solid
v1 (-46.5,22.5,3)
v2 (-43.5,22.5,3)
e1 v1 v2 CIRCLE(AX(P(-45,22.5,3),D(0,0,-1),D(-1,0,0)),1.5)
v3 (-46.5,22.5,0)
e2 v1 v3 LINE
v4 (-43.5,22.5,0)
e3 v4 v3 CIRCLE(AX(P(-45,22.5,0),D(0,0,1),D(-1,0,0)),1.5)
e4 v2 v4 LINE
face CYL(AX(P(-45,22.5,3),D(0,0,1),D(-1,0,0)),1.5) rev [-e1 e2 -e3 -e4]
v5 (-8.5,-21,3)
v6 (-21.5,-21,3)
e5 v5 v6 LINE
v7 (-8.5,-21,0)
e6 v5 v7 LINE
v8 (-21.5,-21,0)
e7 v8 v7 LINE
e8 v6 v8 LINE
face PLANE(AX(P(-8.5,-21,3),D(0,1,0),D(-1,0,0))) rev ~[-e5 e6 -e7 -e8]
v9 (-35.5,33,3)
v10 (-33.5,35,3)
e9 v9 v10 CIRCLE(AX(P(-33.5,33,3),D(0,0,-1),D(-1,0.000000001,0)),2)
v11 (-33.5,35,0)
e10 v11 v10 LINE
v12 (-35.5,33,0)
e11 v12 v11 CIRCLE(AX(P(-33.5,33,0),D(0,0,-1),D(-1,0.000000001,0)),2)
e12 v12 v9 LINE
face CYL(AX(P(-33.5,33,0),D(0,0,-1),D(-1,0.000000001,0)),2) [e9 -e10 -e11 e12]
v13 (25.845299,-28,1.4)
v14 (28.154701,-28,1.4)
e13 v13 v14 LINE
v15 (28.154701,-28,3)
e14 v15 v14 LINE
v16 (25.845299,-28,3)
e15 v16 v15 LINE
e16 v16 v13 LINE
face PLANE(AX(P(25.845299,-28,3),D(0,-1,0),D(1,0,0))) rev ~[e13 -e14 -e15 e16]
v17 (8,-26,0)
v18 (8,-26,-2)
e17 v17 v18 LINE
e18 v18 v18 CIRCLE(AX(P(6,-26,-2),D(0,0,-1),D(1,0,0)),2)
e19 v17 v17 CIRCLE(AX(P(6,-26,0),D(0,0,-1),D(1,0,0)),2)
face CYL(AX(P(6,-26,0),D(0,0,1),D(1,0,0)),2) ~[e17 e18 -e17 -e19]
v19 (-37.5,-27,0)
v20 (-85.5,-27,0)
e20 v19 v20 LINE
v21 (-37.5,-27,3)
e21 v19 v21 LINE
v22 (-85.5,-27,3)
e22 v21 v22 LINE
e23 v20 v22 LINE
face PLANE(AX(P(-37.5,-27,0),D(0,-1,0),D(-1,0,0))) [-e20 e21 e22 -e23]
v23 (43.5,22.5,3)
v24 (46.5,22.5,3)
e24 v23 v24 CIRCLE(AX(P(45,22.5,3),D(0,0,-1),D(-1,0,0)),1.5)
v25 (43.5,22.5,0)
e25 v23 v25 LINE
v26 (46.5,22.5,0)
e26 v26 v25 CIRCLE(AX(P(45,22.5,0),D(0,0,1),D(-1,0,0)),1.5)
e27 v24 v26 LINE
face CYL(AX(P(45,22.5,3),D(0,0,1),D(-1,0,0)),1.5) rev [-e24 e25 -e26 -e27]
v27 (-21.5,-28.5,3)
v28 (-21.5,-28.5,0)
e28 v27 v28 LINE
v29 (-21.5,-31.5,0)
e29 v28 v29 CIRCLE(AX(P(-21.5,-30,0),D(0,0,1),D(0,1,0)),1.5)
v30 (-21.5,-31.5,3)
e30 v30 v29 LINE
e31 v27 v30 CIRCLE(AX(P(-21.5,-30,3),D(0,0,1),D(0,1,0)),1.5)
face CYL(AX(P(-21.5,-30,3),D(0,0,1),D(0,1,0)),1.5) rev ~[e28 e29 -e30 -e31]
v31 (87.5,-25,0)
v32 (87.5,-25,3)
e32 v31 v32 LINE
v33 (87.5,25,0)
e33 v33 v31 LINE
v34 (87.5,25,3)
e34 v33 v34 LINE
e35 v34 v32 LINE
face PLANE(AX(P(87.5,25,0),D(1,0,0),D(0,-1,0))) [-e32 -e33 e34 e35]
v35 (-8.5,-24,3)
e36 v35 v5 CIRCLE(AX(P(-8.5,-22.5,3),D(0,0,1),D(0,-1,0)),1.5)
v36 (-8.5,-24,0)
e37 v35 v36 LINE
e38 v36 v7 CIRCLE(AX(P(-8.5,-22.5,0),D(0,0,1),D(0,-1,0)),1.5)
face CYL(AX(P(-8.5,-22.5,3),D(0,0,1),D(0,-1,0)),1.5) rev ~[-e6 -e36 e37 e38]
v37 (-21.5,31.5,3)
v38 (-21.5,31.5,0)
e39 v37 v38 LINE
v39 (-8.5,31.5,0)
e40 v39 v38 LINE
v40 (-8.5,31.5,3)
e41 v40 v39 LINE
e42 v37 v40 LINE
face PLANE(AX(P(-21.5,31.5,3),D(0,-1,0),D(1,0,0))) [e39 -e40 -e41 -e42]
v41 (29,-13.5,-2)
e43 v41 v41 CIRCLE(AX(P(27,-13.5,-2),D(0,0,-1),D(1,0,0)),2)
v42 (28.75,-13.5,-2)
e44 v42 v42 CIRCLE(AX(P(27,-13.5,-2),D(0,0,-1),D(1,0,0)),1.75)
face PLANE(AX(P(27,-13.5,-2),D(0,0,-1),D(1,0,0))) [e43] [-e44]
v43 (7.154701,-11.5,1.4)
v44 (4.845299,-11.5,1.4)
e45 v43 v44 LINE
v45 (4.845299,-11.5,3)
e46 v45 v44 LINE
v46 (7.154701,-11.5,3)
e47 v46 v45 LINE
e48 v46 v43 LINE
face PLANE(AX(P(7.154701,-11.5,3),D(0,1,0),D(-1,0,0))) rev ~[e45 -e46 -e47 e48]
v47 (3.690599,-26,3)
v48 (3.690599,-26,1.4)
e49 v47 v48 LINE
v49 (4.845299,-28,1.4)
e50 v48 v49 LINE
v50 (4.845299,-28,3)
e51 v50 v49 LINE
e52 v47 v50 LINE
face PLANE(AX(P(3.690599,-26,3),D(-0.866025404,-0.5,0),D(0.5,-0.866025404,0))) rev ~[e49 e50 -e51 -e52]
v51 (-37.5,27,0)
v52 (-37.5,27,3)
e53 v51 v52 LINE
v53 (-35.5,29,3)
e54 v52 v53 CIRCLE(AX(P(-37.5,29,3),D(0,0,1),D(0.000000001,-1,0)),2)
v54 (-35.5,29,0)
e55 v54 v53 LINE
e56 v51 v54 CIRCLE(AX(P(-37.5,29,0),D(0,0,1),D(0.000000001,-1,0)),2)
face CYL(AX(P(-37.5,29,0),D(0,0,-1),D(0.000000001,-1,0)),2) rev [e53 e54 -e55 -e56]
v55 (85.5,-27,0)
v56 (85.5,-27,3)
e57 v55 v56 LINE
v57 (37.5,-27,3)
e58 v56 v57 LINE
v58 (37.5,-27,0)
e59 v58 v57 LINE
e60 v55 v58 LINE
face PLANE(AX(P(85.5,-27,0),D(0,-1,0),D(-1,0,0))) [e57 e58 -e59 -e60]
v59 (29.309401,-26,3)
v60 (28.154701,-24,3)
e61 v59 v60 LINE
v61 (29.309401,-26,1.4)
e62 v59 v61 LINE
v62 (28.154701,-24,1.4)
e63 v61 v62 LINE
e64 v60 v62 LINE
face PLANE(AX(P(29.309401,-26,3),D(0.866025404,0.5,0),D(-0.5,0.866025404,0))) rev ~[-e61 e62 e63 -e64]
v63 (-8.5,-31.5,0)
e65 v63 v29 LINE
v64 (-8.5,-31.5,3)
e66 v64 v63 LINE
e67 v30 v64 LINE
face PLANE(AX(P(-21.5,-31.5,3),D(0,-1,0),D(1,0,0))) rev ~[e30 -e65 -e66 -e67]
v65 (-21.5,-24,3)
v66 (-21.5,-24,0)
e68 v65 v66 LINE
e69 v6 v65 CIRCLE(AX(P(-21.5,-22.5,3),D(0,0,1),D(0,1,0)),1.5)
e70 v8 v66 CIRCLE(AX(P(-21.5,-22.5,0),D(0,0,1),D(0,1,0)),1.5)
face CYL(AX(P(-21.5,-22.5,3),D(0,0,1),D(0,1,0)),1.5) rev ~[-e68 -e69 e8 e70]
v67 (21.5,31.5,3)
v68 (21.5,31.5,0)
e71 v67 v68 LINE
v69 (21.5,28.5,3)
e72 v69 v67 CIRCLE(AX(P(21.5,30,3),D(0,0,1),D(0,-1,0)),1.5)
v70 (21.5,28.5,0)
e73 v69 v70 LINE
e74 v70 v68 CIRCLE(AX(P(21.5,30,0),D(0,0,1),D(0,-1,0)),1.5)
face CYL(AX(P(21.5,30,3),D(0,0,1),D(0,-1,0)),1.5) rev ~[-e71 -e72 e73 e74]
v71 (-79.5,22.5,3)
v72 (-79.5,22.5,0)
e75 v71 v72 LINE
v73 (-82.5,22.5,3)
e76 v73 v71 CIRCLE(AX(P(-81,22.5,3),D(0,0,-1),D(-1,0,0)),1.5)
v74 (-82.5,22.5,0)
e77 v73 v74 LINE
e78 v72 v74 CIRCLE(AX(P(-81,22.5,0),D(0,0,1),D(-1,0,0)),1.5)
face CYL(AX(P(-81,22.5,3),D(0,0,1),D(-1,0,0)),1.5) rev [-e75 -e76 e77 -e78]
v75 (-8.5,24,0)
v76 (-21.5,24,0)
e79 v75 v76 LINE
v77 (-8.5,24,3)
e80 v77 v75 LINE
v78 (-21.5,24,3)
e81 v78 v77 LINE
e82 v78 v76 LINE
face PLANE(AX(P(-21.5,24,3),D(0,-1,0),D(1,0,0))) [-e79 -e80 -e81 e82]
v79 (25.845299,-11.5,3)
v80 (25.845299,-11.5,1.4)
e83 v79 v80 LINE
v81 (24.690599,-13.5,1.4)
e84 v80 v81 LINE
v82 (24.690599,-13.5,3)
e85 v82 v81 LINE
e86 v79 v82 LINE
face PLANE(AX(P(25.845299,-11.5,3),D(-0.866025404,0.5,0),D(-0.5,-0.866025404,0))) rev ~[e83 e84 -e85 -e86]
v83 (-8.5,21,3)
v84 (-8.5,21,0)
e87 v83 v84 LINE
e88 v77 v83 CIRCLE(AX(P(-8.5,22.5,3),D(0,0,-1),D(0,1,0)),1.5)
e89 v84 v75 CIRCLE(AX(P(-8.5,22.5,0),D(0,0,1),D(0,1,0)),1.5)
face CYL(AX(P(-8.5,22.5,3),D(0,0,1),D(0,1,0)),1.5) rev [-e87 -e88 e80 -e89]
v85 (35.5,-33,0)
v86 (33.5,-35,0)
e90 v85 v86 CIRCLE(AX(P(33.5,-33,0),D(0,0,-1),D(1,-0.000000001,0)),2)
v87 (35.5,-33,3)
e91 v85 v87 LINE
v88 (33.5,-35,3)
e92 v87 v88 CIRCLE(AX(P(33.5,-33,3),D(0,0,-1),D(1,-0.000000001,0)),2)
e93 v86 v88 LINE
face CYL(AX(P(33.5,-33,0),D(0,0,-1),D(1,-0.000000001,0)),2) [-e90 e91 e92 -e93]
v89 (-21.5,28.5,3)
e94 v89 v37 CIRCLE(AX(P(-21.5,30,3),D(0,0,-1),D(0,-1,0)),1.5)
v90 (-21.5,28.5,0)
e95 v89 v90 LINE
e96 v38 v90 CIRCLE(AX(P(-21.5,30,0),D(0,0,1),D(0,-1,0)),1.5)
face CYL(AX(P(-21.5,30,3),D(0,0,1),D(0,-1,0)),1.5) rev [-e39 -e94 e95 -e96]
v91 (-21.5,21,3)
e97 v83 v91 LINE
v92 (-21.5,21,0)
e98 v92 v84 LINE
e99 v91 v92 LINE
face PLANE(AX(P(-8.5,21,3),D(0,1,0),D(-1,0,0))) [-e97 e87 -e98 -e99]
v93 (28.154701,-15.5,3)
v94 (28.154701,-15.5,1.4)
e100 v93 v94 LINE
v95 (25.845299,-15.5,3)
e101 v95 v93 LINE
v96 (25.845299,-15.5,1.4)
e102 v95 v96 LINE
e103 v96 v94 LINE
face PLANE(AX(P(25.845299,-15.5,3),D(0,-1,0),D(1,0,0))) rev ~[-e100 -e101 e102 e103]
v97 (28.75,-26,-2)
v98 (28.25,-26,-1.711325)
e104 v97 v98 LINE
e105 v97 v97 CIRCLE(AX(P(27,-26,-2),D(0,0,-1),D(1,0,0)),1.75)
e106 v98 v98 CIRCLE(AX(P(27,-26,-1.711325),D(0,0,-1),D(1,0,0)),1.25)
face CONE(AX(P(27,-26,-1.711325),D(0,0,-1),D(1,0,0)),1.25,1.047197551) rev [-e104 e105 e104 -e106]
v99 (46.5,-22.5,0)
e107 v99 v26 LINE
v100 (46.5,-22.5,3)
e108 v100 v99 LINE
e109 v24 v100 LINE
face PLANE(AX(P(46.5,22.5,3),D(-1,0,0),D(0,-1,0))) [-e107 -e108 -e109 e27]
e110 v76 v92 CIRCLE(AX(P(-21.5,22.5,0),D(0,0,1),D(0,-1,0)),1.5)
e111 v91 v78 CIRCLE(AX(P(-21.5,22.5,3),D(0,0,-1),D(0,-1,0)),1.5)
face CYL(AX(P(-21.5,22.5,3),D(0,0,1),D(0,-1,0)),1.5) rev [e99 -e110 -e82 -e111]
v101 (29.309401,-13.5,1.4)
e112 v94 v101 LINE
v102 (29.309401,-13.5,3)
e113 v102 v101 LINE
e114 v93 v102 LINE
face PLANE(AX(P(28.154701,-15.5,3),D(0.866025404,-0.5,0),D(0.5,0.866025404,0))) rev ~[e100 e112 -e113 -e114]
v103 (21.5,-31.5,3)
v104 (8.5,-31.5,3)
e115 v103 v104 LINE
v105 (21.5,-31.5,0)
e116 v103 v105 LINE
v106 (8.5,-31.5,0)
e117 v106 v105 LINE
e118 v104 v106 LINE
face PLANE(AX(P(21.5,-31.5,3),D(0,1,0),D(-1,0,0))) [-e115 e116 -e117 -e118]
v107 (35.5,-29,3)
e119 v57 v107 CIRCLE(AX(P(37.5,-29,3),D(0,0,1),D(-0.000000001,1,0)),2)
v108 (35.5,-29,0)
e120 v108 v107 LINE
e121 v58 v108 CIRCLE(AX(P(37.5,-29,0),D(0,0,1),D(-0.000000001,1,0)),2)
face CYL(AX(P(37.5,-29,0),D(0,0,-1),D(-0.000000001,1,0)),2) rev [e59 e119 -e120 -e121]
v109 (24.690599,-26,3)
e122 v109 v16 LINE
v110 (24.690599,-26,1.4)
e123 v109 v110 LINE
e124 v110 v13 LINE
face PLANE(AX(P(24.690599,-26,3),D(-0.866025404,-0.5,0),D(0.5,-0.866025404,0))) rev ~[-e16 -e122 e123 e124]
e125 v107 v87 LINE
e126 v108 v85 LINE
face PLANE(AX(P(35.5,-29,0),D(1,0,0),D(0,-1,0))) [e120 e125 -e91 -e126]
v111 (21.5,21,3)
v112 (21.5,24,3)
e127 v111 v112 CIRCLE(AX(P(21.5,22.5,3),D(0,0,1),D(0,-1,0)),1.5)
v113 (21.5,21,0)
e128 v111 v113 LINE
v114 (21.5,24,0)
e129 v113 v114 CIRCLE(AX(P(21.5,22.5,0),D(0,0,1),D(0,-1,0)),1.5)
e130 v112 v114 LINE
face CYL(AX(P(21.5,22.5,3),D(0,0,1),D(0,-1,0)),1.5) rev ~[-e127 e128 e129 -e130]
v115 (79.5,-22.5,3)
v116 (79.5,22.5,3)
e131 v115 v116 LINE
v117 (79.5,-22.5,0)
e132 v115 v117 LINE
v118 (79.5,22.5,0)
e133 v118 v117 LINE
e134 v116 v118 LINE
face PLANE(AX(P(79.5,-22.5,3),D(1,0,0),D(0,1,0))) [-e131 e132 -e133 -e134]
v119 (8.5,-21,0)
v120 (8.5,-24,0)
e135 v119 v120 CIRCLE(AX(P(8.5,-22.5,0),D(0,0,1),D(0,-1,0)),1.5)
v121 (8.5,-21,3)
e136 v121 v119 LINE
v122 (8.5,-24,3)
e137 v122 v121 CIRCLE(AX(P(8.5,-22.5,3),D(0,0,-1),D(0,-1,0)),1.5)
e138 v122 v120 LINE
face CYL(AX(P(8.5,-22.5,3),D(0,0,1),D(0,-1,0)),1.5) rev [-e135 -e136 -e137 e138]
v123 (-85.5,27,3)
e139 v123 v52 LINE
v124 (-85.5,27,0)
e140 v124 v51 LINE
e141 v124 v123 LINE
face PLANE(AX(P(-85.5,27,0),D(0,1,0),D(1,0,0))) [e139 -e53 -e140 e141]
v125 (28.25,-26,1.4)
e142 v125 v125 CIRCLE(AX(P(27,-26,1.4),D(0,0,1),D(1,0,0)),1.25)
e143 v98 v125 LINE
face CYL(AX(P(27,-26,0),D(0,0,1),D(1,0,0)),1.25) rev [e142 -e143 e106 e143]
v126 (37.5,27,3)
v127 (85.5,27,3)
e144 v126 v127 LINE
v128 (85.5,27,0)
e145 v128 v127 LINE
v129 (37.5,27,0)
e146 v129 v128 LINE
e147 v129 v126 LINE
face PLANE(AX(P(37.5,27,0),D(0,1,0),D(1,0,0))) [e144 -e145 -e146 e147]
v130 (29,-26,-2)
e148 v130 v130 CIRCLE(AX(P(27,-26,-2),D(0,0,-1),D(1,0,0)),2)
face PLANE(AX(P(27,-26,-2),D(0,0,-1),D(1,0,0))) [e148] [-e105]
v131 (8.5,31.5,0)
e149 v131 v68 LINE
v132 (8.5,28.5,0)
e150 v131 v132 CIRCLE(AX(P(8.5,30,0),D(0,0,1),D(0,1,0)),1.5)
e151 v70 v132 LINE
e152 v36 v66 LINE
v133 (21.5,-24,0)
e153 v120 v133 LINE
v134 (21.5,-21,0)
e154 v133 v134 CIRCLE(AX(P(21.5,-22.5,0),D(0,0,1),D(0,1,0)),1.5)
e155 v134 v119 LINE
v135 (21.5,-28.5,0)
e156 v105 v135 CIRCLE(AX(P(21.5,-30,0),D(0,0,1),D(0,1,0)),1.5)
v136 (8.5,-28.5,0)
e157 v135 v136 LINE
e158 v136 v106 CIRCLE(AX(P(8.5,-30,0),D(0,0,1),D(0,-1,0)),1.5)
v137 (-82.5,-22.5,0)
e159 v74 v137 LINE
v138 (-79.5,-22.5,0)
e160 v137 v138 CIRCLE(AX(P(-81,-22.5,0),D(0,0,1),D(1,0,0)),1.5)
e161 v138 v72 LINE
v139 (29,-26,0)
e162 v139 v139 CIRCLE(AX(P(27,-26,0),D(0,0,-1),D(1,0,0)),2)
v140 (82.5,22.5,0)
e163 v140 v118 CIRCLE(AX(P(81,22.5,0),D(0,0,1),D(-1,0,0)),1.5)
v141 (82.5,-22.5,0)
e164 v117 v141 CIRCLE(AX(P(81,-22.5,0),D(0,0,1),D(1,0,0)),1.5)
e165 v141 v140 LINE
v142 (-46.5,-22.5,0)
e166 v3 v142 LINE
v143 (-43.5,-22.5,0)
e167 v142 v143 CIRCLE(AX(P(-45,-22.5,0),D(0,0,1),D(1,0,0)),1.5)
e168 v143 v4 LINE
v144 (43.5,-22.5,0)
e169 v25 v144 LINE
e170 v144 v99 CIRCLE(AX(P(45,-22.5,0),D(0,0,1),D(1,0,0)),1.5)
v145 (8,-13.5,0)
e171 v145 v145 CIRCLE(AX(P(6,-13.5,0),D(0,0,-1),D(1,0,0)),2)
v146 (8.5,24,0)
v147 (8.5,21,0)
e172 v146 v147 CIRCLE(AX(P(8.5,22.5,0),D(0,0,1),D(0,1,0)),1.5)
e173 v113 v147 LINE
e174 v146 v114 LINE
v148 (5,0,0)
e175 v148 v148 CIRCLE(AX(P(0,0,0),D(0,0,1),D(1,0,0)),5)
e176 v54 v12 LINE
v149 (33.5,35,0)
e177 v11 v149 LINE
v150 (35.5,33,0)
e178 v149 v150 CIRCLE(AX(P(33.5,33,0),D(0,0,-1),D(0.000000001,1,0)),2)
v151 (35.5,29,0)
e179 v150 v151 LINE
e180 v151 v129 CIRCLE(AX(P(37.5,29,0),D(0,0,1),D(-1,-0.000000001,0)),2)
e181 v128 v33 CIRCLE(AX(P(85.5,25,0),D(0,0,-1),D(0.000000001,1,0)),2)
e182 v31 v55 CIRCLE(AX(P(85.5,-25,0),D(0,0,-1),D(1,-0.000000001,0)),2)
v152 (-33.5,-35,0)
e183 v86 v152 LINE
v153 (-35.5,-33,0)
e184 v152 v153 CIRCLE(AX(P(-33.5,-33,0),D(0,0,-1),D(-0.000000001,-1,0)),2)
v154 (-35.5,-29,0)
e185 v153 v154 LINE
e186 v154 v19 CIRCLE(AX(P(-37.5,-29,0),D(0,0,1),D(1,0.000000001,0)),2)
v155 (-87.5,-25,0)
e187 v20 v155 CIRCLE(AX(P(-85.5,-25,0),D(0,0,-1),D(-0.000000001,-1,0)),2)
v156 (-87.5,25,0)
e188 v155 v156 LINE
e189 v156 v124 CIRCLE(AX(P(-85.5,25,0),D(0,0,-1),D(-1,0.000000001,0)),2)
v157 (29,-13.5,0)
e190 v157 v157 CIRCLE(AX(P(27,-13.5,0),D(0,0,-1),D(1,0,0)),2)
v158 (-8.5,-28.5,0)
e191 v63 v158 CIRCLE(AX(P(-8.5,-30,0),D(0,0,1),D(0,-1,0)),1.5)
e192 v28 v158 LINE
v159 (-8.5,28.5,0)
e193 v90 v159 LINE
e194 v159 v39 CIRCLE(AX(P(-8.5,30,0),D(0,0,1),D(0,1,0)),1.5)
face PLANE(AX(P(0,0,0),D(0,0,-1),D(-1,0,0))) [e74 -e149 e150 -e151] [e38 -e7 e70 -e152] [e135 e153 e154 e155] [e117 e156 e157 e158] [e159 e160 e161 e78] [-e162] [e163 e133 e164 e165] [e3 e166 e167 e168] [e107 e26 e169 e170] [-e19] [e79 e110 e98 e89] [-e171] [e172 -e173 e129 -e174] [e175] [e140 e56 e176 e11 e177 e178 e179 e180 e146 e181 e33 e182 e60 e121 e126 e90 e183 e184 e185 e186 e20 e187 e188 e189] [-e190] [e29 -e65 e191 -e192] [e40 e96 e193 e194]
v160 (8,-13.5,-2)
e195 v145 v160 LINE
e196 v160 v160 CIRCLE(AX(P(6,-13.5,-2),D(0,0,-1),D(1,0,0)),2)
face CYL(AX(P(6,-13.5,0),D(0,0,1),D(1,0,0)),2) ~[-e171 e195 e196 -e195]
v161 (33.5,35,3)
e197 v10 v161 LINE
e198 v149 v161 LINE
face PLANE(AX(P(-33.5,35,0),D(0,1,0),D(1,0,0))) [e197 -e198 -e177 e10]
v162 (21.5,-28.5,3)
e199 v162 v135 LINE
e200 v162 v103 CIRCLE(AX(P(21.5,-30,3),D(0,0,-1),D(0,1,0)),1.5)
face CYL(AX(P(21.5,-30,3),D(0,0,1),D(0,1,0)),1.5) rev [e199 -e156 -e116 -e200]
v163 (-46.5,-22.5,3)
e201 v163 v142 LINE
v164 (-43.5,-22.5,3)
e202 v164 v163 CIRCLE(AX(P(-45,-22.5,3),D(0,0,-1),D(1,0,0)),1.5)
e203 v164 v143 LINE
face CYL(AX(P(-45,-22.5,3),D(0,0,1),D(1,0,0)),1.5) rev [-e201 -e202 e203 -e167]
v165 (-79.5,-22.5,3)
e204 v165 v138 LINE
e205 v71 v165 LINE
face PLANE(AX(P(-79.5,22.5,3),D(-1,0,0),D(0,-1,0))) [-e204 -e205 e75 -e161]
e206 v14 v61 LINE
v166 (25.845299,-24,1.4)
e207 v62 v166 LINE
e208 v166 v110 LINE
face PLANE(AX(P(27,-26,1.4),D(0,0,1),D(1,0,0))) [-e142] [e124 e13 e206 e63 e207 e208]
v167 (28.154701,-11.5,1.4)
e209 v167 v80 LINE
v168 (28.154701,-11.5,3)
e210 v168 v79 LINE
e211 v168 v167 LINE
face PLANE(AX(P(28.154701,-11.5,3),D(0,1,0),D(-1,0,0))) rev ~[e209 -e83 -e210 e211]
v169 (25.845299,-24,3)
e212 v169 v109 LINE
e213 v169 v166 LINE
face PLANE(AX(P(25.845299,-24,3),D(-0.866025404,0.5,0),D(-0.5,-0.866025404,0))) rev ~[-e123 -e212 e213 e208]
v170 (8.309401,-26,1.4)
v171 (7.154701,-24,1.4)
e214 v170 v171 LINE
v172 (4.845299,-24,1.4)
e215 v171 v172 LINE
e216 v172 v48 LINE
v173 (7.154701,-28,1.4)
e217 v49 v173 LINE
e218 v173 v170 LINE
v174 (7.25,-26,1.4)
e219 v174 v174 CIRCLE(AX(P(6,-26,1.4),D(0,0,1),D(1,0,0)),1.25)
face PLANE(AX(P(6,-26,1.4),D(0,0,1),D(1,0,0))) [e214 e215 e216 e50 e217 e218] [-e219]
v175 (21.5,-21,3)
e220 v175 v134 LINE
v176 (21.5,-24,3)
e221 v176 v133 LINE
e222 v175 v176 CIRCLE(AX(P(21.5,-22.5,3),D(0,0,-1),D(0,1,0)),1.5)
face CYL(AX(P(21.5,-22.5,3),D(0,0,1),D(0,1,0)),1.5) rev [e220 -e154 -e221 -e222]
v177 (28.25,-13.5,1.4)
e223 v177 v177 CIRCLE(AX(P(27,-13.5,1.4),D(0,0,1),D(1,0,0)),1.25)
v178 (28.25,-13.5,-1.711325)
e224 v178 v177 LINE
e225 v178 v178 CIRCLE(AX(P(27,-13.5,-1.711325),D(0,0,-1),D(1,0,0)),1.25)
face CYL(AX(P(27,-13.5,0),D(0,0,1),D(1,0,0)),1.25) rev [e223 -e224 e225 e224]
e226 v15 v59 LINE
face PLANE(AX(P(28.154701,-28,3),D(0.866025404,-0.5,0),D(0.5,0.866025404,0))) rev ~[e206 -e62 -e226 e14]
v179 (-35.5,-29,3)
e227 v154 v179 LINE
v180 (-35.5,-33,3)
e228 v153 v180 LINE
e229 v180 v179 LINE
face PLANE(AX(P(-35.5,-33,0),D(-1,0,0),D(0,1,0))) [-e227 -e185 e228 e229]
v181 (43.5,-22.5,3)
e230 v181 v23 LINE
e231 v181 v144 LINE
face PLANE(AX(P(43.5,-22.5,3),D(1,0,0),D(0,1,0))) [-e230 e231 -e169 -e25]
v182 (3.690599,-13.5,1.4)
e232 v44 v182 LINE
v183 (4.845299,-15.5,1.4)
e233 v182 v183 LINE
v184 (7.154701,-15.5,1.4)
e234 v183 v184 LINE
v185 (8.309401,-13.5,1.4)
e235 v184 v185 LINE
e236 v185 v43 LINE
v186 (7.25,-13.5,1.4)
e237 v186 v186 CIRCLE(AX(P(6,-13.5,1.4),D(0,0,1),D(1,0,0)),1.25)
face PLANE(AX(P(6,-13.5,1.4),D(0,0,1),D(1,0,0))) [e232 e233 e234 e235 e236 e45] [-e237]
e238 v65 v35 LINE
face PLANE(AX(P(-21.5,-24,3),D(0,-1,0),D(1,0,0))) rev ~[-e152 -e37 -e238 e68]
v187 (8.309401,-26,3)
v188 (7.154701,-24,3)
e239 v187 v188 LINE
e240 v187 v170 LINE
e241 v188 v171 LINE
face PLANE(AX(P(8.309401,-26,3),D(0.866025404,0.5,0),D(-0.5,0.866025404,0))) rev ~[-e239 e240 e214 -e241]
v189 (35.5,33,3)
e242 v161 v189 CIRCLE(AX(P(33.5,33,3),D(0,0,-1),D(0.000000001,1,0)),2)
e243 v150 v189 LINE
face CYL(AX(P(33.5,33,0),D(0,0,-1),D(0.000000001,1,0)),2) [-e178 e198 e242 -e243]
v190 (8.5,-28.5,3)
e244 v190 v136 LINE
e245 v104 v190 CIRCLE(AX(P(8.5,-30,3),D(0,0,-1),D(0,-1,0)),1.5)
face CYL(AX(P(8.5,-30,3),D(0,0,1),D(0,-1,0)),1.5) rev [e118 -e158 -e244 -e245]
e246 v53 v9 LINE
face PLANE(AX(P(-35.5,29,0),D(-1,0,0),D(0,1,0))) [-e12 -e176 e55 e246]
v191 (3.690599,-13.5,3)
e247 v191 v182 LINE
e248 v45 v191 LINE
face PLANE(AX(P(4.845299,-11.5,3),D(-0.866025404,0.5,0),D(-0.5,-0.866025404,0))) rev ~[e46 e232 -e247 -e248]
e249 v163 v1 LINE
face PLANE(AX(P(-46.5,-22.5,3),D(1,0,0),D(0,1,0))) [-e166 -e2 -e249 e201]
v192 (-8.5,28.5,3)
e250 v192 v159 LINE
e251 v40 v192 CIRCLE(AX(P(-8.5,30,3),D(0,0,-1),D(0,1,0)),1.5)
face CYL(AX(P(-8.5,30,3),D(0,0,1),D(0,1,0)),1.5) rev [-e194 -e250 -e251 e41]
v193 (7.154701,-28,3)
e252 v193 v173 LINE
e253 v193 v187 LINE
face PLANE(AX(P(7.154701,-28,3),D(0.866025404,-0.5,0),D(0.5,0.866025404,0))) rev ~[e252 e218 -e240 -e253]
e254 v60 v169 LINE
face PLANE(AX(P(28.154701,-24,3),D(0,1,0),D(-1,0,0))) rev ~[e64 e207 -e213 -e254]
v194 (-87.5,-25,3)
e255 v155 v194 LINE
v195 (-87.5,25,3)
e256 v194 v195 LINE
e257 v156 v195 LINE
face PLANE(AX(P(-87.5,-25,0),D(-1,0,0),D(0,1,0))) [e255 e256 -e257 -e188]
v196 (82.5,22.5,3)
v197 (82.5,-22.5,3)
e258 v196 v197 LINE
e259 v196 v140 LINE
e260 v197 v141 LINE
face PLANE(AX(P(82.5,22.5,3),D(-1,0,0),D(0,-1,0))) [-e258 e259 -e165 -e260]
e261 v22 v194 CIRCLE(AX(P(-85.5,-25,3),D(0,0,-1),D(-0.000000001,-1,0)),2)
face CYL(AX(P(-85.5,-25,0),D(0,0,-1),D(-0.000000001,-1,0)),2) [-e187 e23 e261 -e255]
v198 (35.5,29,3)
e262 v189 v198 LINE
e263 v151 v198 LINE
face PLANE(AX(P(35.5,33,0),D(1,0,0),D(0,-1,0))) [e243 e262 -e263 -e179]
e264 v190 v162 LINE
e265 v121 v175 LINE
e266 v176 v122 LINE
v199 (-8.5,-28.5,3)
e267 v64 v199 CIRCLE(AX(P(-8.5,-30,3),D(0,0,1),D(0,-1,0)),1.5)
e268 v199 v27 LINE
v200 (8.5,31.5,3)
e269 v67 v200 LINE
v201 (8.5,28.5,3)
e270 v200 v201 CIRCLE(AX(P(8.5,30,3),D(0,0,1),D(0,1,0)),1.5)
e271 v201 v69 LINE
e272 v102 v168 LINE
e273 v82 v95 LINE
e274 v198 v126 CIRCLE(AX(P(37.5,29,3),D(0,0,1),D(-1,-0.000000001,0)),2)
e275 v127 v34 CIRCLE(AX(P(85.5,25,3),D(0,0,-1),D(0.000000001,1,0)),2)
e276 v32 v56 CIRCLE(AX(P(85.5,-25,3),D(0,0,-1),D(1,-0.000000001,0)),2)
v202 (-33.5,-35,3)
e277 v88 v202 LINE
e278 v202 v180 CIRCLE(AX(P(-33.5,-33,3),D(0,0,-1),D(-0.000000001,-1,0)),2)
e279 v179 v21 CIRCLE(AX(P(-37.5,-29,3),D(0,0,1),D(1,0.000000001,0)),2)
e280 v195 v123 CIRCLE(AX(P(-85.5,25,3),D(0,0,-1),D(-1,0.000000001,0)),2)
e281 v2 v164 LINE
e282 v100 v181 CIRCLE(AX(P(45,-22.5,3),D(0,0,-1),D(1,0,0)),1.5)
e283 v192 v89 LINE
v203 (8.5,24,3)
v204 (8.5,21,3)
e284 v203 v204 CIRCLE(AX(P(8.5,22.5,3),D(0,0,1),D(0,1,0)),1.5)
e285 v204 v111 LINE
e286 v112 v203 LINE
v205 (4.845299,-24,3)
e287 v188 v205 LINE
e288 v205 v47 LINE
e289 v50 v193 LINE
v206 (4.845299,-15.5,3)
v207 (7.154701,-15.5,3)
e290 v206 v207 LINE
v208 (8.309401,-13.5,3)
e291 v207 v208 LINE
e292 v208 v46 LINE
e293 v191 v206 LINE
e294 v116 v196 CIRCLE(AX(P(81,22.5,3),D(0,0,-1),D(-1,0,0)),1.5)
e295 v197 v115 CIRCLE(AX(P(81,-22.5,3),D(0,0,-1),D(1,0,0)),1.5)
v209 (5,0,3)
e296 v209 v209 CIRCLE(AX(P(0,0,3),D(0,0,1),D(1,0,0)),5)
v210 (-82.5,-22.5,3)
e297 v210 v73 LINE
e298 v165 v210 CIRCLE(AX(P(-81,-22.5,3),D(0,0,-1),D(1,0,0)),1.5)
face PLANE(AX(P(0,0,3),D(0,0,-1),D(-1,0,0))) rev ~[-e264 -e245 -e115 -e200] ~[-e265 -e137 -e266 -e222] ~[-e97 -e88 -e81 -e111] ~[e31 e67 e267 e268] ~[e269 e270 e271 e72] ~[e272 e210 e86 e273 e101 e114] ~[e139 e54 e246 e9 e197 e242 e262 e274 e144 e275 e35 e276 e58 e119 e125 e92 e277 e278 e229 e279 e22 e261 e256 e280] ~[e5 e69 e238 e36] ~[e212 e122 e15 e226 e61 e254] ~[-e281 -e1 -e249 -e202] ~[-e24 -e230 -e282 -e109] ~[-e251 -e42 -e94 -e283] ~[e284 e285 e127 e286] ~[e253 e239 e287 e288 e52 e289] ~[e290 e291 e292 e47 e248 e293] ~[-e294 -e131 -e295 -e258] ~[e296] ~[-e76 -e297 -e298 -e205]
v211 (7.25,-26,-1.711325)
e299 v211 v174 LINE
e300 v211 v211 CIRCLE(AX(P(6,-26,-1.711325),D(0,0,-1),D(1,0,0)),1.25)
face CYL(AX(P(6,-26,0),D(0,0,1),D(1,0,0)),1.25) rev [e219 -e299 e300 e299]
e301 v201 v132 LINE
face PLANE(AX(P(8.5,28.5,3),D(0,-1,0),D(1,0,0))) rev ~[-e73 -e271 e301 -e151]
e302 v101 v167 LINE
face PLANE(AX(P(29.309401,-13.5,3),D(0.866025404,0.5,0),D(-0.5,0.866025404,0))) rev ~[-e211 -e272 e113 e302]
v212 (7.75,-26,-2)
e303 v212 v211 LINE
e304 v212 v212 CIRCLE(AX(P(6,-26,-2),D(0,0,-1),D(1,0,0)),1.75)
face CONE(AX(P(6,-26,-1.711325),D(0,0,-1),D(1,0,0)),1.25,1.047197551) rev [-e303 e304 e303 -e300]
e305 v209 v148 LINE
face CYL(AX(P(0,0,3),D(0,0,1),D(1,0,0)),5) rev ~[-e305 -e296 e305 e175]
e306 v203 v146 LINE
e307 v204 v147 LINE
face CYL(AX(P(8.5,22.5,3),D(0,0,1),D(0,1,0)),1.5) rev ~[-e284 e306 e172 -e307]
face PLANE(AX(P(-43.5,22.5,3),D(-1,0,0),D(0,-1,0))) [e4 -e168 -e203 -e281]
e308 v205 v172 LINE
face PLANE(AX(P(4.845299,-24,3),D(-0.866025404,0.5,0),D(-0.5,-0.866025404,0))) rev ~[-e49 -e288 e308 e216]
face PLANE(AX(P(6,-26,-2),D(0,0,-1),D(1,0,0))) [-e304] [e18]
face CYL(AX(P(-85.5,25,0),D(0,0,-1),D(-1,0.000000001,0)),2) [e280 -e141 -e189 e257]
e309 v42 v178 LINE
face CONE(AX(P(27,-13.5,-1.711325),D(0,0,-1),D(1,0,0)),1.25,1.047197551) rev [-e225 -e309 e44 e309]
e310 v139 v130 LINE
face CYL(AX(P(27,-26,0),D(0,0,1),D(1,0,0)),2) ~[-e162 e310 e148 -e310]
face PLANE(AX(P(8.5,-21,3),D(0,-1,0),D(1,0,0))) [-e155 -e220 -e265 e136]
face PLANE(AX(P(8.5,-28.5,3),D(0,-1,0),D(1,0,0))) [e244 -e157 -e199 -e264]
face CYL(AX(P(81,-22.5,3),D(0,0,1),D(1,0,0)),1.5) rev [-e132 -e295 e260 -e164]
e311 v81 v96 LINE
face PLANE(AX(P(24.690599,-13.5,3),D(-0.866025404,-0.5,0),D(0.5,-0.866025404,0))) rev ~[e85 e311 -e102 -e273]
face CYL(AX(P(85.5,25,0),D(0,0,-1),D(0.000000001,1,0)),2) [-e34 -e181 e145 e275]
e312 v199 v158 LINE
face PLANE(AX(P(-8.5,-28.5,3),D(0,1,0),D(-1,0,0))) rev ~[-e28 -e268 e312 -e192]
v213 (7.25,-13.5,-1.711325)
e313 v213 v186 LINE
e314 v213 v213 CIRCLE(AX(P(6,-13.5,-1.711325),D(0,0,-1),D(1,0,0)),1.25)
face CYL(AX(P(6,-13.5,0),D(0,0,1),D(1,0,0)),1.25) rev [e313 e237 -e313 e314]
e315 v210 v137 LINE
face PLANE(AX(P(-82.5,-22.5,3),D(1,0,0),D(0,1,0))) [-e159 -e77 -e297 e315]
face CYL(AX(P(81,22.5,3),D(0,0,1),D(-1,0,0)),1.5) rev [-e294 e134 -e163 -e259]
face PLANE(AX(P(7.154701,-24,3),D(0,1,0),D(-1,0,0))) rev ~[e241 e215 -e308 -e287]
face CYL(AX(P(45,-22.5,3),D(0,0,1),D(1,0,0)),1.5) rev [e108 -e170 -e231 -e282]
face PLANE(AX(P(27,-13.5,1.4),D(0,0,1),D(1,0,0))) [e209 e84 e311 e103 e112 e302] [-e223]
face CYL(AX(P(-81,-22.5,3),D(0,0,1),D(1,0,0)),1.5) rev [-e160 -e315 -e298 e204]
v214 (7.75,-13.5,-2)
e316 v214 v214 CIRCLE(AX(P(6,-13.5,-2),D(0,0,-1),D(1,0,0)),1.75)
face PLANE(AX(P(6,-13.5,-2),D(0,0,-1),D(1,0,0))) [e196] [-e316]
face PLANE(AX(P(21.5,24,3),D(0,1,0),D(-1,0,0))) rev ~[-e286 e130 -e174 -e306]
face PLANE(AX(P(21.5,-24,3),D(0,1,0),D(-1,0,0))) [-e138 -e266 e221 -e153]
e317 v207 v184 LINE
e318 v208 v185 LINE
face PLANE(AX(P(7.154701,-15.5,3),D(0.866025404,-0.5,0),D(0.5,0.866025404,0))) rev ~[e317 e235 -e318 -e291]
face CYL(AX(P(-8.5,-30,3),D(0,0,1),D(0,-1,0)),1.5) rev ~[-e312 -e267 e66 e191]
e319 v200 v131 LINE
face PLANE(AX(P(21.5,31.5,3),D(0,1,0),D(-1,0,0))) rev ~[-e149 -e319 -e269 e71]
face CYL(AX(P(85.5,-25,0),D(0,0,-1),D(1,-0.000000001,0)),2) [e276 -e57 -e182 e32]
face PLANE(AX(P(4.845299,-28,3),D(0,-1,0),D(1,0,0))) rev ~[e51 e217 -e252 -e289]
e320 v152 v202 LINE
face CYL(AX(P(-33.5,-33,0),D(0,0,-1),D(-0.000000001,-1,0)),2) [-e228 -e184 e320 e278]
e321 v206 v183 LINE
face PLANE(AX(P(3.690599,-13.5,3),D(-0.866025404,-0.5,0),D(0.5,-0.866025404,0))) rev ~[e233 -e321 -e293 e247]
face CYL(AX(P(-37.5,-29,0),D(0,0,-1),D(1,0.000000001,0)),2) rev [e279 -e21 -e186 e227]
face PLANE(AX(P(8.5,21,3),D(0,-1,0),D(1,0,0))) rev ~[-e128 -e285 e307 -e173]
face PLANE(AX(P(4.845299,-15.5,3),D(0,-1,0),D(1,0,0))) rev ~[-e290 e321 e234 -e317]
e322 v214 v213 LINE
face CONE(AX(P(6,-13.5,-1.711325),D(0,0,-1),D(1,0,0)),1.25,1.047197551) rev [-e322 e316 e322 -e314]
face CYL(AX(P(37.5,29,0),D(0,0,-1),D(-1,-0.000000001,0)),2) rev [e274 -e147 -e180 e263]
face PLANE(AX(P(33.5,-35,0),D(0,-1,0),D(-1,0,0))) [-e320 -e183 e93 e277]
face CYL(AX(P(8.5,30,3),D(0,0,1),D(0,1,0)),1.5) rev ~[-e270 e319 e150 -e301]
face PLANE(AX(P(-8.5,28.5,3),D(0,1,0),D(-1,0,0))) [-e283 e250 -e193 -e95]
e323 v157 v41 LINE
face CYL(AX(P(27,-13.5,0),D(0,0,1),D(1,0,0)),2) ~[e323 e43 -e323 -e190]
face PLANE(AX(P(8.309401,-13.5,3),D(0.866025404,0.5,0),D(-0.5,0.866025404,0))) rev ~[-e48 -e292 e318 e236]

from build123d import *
from OCP.BRepFilletAPI import BRepFilletAPI_MakeChamfer

# Parameters (mm, degrees)
EXTRUDE_1_DEPTH     = 3
SKETCH_2_R          = 5
SKETCH_2_R_2        = 1.25
CUT_EXTRUDE_1_DEPTH = 95.288122264
CUT_EXTRUDE_2_DEPTH = 1.6
SKETCH_4_R          = 2
SKETCH_4_R_2        = 1.25
EXTRUDE_2_DEPTH     = 2
CHAMFER_1_SIZE      = 0.5
CHAMFER_1_SIZE2     = 0.288675135


with BuildPart() as part:
    # 草圖1 → 填料-伸長1 (new body)
    with BuildSketch(Plane.XY):
        with BuildLine():
            Line((35.5, 33), (35.5, 29))
            ThreePointArc((35.5, 29), (36.085786438, 27.585786438), (37.5, 27))
            Line((37.5, 27), (85.5, 27))
            ThreePointArc((85.5, 27), (86.914213562, 26.414213562), (87.5, 25))
            Line((87.5, 25), (87.5, -25))
            ThreePointArc((87.5, -25), (86.914213562, -26.414213562), (85.5, -27))
            Line((85.5, -27), (37.5, -27))
            ThreePointArc((37.5, -27), (36.085786438, -27.585786438), (35.5, -29))
            Line((35.5, -29), (35.5, -33))
            ThreePointArc((35.5, -33), (34.914213562, -34.414213562), (33.5, -35))
            Line((33.5, -35), (-33.5, -35))
            ThreePointArc((-33.5, -35), (-34.914213562, -34.414213562), (-35.5, -33))
            Line((-35.5, -33), (-35.5, -29))
            ThreePointArc((-35.5, -29), (-36.085786438, -27.585786438), (-37.5, -27))
            Line((-37.5, -27), (-85.5, -27))
            ThreePointArc((-85.5, -27), (-86.914213562, -26.414213562), (-87.5, -25))
            Line((-87.5, -25), (-87.5, 25))
            ThreePointArc((-87.5, 25), (-86.914213562, 26.414213562), (-85.5, 27))
            Line((-85.5, 27), (-37.5, 27))
            ThreePointArc((-37.5, 27), (-36.085786438, 27.585786438), (-35.5, 29))
            Line((-35.5, 29), (-35.5, 33))
            ThreePointArc((-35.5, 33), (-34.914213562, 34.414213562), (-33.5, 35))
            Line((-33.5, 35), (33.5, 35))
            ThreePointArc((33.5, 35), (34.914213562, 34.414213562), (35.5, 33))
        make_face()
    extrude(amount=EXTRUDE_1_DEPTH)

    # 草圖2 → 除料-伸長1 (cut, through all)
    with BuildSketch(Plane.XY.offset(3)):
        Circle(SKETCH_2_R)
        with Locations((27, -13.5)):
            Circle(SKETCH_2_R_2)
        with Locations((6, -13.5)):
            Circle(SKETCH_2_R_2)
        with Locations((6, -26)):
            Circle(SKETCH_2_R_2)
        with Locations((27, -26)):
            Circle(SKETCH_2_R_2)
        with BuildLine():
            Line((43.5, -22.5), (43.5, 22.5))
            ThreePointArc((43.5, 22.5), (45, 24), (46.5, 22.5))
            Line((46.5, 22.5), (46.5, -22.5))
            ThreePointArc((46.5, -22.5), (45, -24), (43.5, -22.5))
        make_face()
        with BuildLine():
            Line((-46.5, -22.5), (-46.5, 22.5))
            ThreePointArc((-46.5, 22.5), (-45, 24), (-43.5, 22.5))
            Line((-43.5, 22.5), (-43.5, -22.5))
            ThreePointArc((-43.5, -22.5), (-45, -24), (-46.5, -22.5))
        make_face()
        with BuildLine():
            Line((-82.5, -22.5), (-82.5, 22.5))
            ThreePointArc((-82.5, 22.5), (-81, 24), (-79.5, 22.5))
            Line((-79.5, 22.5), (-79.5, -22.5))
            ThreePointArc((-79.5, -22.5), (-81, -24), (-82.5, -22.5))
        make_face()
        with BuildLine():
            Line((79.5, -22.5), (79.5, 22.5))
            ThreePointArc((79.5, 22.5), (81, 24), (82.5, 22.5))
            Line((82.5, 22.5), (82.5, -22.5))
            ThreePointArc((82.5, -22.5), (81, -24), (79.5, -22.5))
        make_face()
        with BuildLine():
            Line((21.5, -31.5), (8.5, -31.5))
            ThreePointArc((8.5, -31.5), (7, -30), (8.5, -28.5))
            Line((8.5, -28.5), (21.5, -28.5))
            ThreePointArc((21.5, -28.5), (23, -30), (21.5, -31.5))
        make_face()
        with BuildLine():
            Line((-21.5, -31.5), (-8.5, -31.5))
            ThreePointArc((-8.5, -31.5), (-7, -30), (-8.5, -28.5))
            Line((-8.5, -28.5), (-21.5, -28.5))
            ThreePointArc((-21.5, -28.5), (-23, -30), (-21.5, -31.5))
        make_face()
        with BuildLine():
            Line((21.5, 31.5), (8.5, 31.5))
            ThreePointArc((8.5, 31.5), (7, 30), (8.5, 28.5))
            Line((8.5, 28.5), (21.5, 28.5))
            ThreePointArc((21.5, 28.5), (23, 30), (21.5, 31.5))
        make_face()
        with BuildLine():
            Line((-21.5, 31.5), (-8.5, 31.5))
            ThreePointArc((-8.5, 31.5), (-7, 30), (-8.5, 28.5))
            Line((-8.5, 28.5), (-21.5, 28.5))
            ThreePointArc((-21.5, 28.5), (-23, 30), (-21.5, 31.5))
        make_face()
        with BuildLine():
            Line((21.5, 24), (8.5, 24))
            ThreePointArc((8.5, 24), (7, 22.5), (8.5, 21))
            Line((8.5, 21), (21.5, 21))
            ThreePointArc((21.5, 21), (23, 22.5), (21.5, 24))
        make_face()
        with BuildLine():
            Line((-21.5, 24), (-8.5, 24))
            ThreePointArc((-8.5, 24), (-7, 22.5), (-8.5, 21))
            Line((-8.5, 21), (-21.5, 21))
            ThreePointArc((-21.5, 21), (-23, 22.5), (-21.5, 24))
        make_face()
        with BuildLine():
            Line((-21.5, -24), (-8.5, -24))
            ThreePointArc((-8.5, -24), (-7, -22.5), (-8.5, -21))
            Line((-8.5, -21), (-21.5, -21))
            ThreePointArc((-21.5, -21), (-23, -22.5), (-21.5, -24))
        make_face()
        with BuildLine():
            Line((21.5, -24), (8.5, -24))
            ThreePointArc((8.5, -24), (7, -22.5), (8.5, -21))
            Line((8.5, -21), (21.5, -21))
            ThreePointArc((21.5, -21), (23, -22.5), (21.5, -24))
        make_face()
    extrude(amount=-CUT_EXTRUDE_1_DEPTH, mode=Mode.SUBTRACT)

    # 草圖3 → 除料-伸長2 (cut)
    with BuildSketch(Plane.XY.offset(3)):
        Polygon((29.309401077, -26), (28.154700538, -24), (25.845299462, -24), (24.690598923, -26), (25.845299462, -28), (28.154700538, -28), align=None)
        Polygon((8.309401077, -26), (7.154700538, -24), (4.845299462, -24), (3.690598923, -26), (4.845299462, -28), (7.154700538, -28), align=None)
        Polygon((29.309401077, -13.5), (28.154700538, -11.5), (25.845299462, -11.5), (24.690598923, -13.5), (25.845299462, -15.5), (28.154700538, -15.5), align=None)
        Polygon((8.309401077, -13.5), (7.154700538, -11.5), (4.845299462, -11.5), (3.690598923, -13.5), (4.845299462, -15.5), (7.154700538, -15.5), align=None)
    extrude(amount=-CUT_EXTRUDE_2_DEPTH, mode=Mode.SUBTRACT)

    # 草圖4 → 填料-伸長2 (add)
    # profile 1 of 4: a face of its own
    with BuildSketch(Plane(origin=(0, 0, 0), x_dir=(-1, 0, 0), z_dir=(0, 0, -1))):
        with Locations(Location((-27, -13.5, 0), (0, 0, 180))):
            Circle(SKETCH_4_R)
        with Locations(Location((-27, -13.5, 0), (0, 0, 180))):
            Circle(SKETCH_4_R_2, mode=Mode.SUBTRACT)
    # profile 2 of 4: a face of its own
    with BuildSketch(Plane(origin=(0, 0, 0), x_dir=(-1, 0, 0), z_dir=(0, 0, -1))):
        with Locations(Location((-27, -26, 0), (0, 0, 180))):
            Circle(SKETCH_4_R)
        with Locations(Location((-27, -26, 0), (0, 0, 180))):
            Circle(SKETCH_4_R_2, mode=Mode.SUBTRACT)
    # profile 3 of 4: a face of its own
    with BuildSketch(Plane(origin=(0, 0, 0), x_dir=(-1, 0, 0), z_dir=(0, 0, -1))):
        with Locations(Location((-6, -13.5, 0), (0, 0, 180))):
            Circle(SKETCH_4_R)
        with Locations(Location((-6, -13.5, 0), (0, 0, 180))):
            Circle(SKETCH_4_R_2, mode=Mode.SUBTRACT)
    # profile 4 of 4: a face of its own
    with BuildSketch(Plane(origin=(0, 0, 0), x_dir=(-1, 0, 0), z_dir=(0, 0, -1))):
        with Locations(Location((-6, -26, 0), (0, 0, 180))):
            Circle(SKETCH_4_R)
        with Locations(Location((-6, -26, 0), (0, 0, 180))):
            Circle(SKETCH_4_R_2, mode=Mode.SUBTRACT)
    extrude(amount=EXTRUDE_2_DEPTH)

    # 導角1: one chamfer whose edges measure the first distance from different faces: ONE call of the kernel's chamfer builder (chamfer() names one face for all edges)
    chamfer_1_edges_1 = [part.edges().sort_by_distance(p)[0] for p in [
        (25.75, -13.5, -2),
    ]]
    chamfer_1_side_1 = [part.faces().sort_by_distance(p)[0] for p in [
        (25.056568542, -13.5, -2),
    ]]
    chamfer_1_edges_2 = [part.edges().sort_by_distance(p)[0] for p in [
        (25.75, -26, -2),
    ]]
    chamfer_1_side_2 = [part.faces().sort_by_distance(p)[0] for p in [
        (25.056568542, -26, -2),
    ]]
    chamfer_1_edges_3 = [part.edges().sort_by_distance(p)[0] for p in [
        (4.75, -13.5, -2),
    ]]
    chamfer_1_side_3 = [part.faces().sort_by_distance(p)[0] for p in [
        (4.056568542, -13.5, -2),
    ]]
    chamfer_1_edges_4 = [part.edges().sort_by_distance(p)[0] for p in [
        (4.75, -26, -2),
    ]]
    chamfer_1_side_4 = [part.faces().sort_by_distance(p)[0] for p in [
        (4.056568542, -26, -2),
    ]]
    chamfer_1 = BRepFilletAPI_MakeChamfer(part.part.solid().wrapped)
    for e in chamfer_1_edges_1:
        chamfer_1.Add(CHAMFER_1_SIZE, CHAMFER_1_SIZE2, e.wrapped, chamfer_1_side_1[0].wrapped)  # the first distance lies on this face
    for e in chamfer_1_edges_2:
        chamfer_1.Add(CHAMFER_1_SIZE, CHAMFER_1_SIZE2, e.wrapped, chamfer_1_side_2[0].wrapped)  # the first distance lies on this face
    for e in chamfer_1_edges_3:
        chamfer_1.Add(CHAMFER_1_SIZE, CHAMFER_1_SIZE2, e.wrapped, chamfer_1_side_3[0].wrapped)  # the first distance lies on this face
    for e in chamfer_1_edges_4:
        chamfer_1.Add(CHAMFER_1_SIZE, CHAMFER_1_SIZE2, e.wrapped, chamfer_1_side_4[0].wrapped)  # the first distance lies on this face
    add(Compound.cast(chamfer_1.Shape()), mode=Mode.REPLACE)


solid = part.part
